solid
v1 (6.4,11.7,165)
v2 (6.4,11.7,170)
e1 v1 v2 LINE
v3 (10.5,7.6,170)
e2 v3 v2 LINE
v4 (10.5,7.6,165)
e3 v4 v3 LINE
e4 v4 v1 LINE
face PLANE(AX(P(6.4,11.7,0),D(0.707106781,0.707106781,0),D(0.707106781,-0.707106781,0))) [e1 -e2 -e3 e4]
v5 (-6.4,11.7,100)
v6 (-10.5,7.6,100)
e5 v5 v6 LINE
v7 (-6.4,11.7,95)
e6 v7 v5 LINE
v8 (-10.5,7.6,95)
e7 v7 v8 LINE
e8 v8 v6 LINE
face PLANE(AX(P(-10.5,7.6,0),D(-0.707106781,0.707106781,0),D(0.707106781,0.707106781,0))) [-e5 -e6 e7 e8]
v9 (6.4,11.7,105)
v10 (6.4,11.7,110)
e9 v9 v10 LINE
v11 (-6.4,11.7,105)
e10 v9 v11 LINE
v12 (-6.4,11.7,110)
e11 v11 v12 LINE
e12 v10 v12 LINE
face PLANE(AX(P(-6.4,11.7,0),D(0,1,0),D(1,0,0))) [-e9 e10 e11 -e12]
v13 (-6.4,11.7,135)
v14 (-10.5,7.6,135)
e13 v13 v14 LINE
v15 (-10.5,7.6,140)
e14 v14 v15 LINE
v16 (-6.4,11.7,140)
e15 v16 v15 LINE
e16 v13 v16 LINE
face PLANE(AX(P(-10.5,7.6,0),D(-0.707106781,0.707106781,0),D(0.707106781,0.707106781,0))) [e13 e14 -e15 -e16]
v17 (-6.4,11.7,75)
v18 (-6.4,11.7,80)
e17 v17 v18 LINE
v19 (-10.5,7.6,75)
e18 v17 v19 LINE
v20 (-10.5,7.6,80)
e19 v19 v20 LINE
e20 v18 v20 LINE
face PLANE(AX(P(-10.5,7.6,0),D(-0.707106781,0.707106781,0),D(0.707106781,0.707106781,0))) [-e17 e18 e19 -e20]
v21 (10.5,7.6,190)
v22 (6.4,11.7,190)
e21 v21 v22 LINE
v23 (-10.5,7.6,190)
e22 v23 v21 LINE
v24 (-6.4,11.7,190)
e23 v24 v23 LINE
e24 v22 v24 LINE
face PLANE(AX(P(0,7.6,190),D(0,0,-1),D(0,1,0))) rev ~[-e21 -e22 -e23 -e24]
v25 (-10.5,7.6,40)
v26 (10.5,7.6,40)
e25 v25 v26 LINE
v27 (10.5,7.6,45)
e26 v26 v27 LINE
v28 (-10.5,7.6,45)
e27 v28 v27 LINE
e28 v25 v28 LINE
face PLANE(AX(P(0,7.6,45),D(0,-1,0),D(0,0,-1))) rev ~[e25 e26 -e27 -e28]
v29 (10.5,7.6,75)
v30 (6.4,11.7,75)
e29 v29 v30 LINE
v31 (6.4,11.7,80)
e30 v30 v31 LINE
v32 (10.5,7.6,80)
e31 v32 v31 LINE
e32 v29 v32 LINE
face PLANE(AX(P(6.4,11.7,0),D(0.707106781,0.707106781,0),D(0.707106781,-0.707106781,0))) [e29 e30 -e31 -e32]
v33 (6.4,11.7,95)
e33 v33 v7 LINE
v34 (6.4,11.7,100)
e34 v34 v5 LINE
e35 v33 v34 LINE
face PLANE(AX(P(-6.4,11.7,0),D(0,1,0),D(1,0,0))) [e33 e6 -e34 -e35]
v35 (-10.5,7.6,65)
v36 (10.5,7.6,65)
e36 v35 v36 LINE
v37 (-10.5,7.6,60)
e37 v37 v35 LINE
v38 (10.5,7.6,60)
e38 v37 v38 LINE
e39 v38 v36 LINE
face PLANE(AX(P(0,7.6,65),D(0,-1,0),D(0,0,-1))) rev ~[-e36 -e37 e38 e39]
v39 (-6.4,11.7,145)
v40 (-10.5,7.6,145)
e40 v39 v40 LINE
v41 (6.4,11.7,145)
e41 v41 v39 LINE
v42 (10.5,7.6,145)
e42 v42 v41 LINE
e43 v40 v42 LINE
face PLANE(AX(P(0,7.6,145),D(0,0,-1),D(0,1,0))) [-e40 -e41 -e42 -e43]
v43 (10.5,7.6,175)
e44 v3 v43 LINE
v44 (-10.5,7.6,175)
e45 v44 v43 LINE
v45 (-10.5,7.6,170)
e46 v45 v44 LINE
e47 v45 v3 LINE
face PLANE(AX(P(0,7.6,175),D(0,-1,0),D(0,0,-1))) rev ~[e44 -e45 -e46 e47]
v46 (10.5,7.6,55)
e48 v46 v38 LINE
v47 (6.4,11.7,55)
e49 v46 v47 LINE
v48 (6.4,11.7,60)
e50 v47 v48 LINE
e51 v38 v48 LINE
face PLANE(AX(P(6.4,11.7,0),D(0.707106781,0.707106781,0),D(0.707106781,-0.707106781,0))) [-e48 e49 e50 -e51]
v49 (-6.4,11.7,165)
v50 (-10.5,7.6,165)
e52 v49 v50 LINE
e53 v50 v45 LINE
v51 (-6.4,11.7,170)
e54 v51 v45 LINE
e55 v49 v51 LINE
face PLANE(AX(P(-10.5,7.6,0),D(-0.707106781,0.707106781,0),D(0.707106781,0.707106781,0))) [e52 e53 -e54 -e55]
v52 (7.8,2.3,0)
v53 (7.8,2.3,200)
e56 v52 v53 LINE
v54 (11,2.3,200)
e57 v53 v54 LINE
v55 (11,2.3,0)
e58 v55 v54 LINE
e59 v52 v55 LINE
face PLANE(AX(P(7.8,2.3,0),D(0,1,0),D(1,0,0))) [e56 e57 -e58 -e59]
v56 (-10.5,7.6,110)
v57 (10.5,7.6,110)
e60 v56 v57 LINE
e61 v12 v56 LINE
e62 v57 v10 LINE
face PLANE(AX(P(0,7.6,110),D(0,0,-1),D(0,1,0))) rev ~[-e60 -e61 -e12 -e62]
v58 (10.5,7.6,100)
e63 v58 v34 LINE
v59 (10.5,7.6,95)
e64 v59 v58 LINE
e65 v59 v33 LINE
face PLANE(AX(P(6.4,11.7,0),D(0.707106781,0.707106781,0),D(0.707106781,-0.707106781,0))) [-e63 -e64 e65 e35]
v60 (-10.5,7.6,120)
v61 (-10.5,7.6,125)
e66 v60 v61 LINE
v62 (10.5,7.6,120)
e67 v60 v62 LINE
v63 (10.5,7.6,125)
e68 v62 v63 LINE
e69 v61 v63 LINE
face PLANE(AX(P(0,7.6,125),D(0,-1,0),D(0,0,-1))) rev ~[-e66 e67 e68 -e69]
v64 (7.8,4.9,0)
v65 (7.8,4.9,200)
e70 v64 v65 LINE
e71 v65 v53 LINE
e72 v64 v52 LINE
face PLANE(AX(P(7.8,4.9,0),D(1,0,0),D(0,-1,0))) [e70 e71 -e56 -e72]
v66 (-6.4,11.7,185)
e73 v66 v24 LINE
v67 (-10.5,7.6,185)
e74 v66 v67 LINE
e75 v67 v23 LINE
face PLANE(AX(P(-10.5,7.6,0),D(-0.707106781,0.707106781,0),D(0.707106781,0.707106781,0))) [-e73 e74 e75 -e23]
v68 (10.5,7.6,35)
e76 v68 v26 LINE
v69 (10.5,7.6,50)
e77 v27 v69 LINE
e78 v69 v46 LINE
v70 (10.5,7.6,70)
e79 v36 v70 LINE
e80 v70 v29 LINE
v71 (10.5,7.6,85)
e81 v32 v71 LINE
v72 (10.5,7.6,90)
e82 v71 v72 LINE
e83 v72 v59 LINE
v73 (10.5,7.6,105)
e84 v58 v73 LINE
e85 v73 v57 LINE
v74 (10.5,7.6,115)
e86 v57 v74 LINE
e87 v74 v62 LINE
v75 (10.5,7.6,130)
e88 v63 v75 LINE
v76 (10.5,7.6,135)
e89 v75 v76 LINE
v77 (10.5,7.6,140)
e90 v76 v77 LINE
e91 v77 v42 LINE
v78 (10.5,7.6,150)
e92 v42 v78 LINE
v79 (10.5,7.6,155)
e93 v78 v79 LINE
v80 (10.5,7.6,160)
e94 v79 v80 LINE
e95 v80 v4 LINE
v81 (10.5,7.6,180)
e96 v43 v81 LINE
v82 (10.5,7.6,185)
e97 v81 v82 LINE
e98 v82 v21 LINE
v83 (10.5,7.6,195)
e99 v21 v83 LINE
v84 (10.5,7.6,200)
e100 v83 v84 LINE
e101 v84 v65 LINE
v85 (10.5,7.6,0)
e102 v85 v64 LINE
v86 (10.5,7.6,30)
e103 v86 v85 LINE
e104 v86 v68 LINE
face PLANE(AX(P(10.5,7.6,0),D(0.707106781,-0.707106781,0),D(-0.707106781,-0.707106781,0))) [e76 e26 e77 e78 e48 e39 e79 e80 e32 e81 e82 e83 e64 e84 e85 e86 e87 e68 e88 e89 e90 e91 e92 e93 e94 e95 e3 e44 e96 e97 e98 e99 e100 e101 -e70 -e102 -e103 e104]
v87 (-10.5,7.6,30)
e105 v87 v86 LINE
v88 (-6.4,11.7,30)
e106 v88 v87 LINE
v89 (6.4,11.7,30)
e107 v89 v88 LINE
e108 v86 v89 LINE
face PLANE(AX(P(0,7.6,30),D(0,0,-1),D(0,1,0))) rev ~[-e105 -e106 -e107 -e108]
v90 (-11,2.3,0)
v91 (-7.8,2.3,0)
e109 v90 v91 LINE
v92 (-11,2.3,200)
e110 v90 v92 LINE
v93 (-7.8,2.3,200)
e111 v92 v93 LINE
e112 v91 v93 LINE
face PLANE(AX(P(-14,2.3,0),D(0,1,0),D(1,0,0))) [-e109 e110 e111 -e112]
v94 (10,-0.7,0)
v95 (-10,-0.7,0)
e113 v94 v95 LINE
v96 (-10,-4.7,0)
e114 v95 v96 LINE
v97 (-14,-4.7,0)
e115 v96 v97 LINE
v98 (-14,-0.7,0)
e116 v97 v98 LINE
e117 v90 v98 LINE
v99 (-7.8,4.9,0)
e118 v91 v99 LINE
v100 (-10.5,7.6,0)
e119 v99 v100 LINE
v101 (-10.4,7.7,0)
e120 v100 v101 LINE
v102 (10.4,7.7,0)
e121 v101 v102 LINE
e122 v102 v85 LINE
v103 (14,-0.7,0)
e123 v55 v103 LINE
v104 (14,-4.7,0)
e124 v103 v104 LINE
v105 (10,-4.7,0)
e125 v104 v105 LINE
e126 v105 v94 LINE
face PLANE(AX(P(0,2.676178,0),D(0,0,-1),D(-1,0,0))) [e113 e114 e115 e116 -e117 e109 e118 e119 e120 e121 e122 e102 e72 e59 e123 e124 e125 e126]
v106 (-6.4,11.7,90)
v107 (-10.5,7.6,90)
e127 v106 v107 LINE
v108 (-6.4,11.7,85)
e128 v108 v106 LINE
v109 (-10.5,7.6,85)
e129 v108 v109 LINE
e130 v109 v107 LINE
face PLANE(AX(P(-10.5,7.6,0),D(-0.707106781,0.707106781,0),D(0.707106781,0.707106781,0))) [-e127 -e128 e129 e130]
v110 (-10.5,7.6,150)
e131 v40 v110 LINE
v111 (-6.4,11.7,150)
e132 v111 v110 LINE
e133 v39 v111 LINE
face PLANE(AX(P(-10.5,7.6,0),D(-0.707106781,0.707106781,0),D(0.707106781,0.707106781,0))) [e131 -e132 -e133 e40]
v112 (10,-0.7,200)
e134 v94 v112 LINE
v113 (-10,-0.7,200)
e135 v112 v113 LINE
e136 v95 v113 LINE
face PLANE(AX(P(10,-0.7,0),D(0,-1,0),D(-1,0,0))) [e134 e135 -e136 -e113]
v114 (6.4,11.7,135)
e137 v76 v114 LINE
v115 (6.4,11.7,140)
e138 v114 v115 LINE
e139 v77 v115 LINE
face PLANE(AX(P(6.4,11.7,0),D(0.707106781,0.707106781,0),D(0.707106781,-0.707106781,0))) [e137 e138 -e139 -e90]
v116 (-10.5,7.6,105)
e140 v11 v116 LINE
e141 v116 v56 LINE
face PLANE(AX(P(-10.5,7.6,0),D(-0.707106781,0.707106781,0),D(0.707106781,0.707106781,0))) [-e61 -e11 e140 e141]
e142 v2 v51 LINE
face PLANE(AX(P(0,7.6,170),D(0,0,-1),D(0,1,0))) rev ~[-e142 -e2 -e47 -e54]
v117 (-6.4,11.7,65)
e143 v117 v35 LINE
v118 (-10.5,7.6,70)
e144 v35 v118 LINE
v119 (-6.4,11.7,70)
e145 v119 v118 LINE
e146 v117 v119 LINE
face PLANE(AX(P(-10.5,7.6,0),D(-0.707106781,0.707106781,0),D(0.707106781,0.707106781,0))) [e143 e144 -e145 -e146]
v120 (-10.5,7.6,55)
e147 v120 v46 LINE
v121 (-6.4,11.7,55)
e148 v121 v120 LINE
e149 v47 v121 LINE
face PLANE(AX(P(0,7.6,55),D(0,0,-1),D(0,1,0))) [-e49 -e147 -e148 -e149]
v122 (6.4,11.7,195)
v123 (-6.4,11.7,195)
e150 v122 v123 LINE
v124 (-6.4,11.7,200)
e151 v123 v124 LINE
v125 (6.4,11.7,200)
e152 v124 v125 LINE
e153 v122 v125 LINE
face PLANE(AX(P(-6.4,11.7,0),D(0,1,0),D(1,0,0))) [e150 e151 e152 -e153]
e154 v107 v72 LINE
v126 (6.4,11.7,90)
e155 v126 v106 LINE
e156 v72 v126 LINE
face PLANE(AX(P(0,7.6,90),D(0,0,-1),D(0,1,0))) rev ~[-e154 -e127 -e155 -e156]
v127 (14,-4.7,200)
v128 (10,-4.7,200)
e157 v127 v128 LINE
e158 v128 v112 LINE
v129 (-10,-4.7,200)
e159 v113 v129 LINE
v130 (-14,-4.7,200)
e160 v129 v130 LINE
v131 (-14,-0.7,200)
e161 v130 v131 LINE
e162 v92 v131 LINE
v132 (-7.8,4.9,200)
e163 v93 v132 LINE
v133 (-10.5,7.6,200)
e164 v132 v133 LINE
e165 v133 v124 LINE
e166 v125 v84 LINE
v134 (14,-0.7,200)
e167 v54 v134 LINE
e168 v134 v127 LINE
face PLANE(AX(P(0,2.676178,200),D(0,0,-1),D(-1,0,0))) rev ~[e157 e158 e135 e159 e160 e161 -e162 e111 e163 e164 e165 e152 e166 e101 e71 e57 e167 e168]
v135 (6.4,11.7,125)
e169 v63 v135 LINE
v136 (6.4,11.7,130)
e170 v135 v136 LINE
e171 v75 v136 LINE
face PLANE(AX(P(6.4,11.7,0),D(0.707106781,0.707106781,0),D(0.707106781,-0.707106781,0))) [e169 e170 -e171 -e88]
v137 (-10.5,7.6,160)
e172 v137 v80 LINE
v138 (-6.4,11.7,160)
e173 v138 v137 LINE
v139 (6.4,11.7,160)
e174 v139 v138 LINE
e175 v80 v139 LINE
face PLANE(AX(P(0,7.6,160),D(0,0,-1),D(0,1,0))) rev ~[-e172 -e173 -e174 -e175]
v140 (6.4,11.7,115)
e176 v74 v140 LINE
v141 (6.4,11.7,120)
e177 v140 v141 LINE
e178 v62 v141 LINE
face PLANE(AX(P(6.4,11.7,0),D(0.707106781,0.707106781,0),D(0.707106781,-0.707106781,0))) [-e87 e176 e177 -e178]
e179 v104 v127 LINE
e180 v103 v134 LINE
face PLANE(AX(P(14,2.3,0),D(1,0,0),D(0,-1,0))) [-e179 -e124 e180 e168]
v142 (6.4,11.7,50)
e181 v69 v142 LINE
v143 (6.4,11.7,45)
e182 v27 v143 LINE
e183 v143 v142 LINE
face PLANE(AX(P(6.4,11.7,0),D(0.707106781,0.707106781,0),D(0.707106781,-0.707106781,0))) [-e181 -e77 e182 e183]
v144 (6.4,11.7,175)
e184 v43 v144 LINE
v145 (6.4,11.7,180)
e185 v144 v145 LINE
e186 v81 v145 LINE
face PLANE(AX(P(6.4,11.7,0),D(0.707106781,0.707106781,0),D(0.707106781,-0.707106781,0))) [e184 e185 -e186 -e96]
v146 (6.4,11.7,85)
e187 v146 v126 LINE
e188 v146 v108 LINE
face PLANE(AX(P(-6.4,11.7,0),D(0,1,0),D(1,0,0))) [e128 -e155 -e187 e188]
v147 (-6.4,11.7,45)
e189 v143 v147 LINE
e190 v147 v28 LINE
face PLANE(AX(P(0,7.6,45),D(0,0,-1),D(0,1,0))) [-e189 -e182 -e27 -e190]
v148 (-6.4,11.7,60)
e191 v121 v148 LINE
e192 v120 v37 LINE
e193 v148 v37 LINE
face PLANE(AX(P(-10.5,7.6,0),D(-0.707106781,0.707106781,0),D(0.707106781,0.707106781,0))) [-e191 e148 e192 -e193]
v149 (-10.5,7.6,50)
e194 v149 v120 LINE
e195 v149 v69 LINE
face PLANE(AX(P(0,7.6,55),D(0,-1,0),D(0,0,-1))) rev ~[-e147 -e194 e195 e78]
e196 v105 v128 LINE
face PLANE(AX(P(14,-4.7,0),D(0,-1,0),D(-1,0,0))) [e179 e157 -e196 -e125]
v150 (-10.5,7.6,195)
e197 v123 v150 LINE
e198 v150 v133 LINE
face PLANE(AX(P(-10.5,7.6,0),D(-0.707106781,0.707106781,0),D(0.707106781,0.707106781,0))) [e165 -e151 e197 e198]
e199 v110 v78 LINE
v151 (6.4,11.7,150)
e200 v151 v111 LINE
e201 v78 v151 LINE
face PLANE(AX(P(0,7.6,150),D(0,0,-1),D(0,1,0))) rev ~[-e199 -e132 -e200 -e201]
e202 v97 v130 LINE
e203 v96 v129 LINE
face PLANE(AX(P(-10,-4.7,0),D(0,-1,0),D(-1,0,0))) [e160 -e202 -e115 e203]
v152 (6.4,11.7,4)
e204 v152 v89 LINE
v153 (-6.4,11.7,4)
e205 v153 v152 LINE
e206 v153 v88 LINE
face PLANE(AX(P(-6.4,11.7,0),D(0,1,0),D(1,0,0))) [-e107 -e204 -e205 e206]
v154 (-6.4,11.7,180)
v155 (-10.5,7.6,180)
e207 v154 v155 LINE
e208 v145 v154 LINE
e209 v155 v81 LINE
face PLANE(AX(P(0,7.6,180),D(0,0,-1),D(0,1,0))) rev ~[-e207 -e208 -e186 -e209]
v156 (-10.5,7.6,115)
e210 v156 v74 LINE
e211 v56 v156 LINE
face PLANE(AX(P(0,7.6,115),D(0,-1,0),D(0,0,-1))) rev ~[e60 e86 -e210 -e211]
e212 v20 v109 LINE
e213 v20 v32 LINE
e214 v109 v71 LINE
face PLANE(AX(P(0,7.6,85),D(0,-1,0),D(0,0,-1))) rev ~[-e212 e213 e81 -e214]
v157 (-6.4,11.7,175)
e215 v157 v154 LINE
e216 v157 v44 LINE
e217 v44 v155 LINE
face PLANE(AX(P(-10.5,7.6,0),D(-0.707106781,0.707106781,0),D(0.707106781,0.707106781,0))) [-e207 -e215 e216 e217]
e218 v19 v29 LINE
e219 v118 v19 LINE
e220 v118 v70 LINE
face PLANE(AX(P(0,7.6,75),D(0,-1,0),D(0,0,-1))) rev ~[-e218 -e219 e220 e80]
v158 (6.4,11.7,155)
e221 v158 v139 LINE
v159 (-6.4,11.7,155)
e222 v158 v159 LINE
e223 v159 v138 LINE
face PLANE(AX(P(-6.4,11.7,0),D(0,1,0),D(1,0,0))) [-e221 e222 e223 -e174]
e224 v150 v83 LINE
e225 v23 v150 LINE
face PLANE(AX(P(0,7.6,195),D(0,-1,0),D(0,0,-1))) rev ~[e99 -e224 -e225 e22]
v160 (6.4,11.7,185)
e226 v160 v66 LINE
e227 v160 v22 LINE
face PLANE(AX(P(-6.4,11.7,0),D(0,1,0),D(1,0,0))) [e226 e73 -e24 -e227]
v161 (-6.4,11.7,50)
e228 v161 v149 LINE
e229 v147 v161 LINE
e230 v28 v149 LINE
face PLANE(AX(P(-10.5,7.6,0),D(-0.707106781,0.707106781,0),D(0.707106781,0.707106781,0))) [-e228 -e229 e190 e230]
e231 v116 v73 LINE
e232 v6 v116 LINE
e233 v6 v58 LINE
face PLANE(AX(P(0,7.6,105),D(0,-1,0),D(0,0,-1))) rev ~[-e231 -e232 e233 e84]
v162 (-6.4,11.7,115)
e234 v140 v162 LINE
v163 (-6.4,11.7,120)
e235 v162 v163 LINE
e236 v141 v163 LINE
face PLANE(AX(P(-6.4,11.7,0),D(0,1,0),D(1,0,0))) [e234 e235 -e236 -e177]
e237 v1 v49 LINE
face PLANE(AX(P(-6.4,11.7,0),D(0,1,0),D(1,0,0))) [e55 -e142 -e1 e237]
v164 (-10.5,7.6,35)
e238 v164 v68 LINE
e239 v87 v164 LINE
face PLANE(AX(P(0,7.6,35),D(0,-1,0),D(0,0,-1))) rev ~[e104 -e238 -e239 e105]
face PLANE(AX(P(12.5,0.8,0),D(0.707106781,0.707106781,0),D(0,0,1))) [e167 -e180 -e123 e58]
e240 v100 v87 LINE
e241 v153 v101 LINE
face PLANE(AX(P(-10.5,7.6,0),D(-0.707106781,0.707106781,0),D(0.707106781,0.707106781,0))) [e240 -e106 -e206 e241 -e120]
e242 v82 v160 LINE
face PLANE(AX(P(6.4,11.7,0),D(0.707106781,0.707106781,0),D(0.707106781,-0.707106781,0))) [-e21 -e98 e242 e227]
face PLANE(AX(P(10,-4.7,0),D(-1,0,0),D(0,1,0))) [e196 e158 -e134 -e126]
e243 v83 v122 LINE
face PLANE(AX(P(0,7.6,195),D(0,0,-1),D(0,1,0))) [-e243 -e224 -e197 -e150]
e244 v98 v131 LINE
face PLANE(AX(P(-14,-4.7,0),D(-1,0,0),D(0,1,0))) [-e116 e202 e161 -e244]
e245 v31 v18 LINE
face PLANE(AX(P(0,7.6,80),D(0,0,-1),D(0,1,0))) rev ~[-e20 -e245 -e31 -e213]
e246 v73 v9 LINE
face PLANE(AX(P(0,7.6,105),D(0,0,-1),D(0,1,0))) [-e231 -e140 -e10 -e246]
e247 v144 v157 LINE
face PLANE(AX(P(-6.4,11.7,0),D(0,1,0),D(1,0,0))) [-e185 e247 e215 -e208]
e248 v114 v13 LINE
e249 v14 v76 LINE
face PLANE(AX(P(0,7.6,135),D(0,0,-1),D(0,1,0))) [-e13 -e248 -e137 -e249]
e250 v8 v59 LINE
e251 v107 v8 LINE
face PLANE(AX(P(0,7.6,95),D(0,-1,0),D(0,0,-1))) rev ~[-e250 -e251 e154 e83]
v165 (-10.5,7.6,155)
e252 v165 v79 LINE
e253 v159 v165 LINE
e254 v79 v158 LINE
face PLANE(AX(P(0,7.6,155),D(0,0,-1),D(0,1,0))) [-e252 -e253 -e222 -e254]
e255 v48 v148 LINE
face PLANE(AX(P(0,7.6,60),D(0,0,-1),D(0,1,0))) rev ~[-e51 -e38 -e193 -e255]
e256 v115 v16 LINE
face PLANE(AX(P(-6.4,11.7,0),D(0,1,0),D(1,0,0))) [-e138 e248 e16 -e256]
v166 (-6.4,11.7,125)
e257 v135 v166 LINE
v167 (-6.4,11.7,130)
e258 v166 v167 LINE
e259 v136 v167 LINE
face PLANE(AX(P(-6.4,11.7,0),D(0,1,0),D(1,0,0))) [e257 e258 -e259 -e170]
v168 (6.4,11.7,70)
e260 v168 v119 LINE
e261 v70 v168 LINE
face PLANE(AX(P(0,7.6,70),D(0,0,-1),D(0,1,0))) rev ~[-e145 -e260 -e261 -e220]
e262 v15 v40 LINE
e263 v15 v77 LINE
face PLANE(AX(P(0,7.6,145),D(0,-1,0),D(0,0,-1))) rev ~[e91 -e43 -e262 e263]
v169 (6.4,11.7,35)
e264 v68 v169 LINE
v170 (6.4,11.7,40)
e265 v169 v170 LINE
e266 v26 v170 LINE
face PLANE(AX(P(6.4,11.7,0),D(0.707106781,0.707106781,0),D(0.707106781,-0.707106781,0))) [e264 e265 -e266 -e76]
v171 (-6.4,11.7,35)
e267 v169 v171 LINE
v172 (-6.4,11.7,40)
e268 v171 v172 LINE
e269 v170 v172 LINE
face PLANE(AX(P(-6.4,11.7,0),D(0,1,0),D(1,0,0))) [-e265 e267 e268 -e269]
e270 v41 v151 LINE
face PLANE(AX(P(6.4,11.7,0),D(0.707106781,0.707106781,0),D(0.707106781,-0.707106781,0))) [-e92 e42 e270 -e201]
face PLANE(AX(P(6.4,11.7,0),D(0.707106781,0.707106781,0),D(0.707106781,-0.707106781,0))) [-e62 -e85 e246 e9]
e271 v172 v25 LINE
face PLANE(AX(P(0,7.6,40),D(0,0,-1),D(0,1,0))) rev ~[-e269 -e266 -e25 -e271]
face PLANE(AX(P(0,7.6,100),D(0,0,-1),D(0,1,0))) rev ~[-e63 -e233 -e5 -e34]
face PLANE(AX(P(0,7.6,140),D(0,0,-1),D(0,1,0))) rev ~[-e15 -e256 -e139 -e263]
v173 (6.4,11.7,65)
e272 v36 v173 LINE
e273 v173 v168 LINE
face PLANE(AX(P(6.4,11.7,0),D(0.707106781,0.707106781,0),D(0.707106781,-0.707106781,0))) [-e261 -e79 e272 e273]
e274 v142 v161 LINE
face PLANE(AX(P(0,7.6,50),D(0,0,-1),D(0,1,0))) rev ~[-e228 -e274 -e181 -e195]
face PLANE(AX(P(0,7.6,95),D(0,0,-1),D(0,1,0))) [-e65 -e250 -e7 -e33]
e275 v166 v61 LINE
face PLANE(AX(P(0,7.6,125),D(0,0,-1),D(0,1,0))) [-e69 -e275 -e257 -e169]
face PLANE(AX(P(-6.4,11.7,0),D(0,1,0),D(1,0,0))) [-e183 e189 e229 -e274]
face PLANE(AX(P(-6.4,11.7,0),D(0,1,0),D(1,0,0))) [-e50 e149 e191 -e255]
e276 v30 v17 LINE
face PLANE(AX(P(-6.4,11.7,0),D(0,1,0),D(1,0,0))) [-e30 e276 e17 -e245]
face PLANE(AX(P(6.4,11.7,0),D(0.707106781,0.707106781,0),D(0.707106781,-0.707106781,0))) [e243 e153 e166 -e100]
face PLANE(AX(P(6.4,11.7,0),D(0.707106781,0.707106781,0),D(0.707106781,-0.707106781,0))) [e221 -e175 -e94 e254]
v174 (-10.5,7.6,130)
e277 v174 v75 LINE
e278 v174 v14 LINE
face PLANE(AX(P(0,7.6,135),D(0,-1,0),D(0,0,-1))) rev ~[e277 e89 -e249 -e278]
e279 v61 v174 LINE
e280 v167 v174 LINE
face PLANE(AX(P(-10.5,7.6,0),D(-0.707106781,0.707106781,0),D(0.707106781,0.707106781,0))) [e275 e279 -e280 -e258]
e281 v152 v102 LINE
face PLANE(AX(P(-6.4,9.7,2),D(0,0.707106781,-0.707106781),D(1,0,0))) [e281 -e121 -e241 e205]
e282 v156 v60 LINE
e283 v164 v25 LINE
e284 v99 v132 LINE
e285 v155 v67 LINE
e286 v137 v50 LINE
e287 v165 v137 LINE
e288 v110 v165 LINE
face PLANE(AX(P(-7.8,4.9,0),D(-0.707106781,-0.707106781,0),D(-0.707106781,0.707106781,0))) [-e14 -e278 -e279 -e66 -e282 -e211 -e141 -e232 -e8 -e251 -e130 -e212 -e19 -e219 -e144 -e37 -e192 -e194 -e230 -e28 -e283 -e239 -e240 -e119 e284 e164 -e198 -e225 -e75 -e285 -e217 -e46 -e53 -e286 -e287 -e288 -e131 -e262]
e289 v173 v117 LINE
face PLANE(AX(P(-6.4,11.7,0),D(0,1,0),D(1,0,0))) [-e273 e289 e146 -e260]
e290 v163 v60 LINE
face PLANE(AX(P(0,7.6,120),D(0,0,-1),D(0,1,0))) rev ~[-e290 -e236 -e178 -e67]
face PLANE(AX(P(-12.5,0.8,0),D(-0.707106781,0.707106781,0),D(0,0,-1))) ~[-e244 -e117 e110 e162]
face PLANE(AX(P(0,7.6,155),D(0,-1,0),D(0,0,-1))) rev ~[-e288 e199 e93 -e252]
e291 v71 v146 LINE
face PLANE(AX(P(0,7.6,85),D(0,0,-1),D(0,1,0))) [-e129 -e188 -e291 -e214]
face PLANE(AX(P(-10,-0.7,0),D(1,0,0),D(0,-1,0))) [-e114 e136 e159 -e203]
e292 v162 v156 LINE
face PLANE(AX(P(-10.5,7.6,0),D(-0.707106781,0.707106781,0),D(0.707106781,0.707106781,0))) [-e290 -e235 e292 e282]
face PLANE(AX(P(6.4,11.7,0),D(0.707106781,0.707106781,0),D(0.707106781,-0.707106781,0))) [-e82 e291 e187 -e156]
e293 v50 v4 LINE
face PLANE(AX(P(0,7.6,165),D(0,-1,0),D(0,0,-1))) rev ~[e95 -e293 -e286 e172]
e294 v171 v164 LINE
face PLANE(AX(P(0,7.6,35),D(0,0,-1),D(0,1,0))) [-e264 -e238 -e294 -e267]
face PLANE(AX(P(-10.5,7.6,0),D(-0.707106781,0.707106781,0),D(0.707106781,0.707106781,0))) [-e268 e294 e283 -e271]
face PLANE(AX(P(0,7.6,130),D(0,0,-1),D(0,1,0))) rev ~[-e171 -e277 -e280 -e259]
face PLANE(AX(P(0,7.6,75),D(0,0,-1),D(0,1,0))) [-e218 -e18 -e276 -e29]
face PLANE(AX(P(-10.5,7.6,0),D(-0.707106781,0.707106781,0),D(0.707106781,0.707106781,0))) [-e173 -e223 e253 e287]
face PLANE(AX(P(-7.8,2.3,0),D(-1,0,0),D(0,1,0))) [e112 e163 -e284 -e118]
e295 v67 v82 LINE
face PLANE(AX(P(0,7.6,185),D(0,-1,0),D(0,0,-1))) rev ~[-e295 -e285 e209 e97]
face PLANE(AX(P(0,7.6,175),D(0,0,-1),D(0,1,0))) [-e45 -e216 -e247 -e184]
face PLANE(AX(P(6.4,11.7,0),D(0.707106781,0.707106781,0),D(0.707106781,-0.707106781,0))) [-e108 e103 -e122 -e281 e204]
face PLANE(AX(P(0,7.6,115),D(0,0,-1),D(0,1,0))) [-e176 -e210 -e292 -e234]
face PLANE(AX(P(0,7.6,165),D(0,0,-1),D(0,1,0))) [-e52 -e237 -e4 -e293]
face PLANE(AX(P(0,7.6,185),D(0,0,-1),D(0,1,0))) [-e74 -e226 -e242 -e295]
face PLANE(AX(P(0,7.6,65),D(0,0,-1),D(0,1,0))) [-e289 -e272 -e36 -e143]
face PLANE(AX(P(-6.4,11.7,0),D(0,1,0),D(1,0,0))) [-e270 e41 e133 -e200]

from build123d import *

# Parameters (mm, degrees)
BOSS_EXTRUDE1_DEPTH = 200
CHAMFER1_SIZE       = 3
SKETCH2_W           = 5
SKETCH2_H           = 4.1
CUT_EXTRUDE1_DEPTH  = 200
LPATTERN1_COUNT     = 20
LPATTERN1_PITCH     = 10
BOSS_EXTRUDE2_DEPTH = 25
CHAMFER2_SIZE       = 4


with BuildPart() as part:
    # Sketch1 → Boss-Extrude1 (new body)
    with BuildSketch(Plane.XY):
        Polygon((-14, 2.3), (-7.8, 2.3), (-7.8, 4.9), (-10.5, 7.6), (-6.4, 11.7), (6.4, 11.7), (10.5, 7.6), (7.8, 4.9), (7.8, 2.3), (14, 2.3), (14, -4.7), (10, -4.7), (10, -0.7), (-10, -0.7), (-10, -4.7), (-14, -4.7), align=None)
    extrude(amount=BOSS_EXTRUDE1_DEPTH)

    # Chamfer1
    chamfer1_edges = [part.edges().sort_by_distance(p)[0] for p in [
        (-14, 2.3, 100),
        (14, 2.3, 100),
    ]]
    chamfer(chamfer1_edges, length=CHAMFER1_SIZE)

    # Sketch2 → Cut-Extrude1 (cut, symmetric)
    with BuildSketch(Plane(origin=(0, 0, 0), x_dir=(0, 0, -1), z_dir=(1, 0, 0))):
        with Locations((-192.5, 9.65)):
            Rectangle(SKETCH2_W, SKETCH2_H)
    cut_extrude1 = extrude(amount=CUT_EXTRUDE1_DEPTH, both=True, mode=Mode.SUBTRACT)

    # LPattern1: Cut-Extrude1 ×20
    with Locations(*[(0, 0, -i * LPATTERN1_PITCH) for i in range(1, LPATTERN1_COUNT)]):
        add(cut_extrude1, mode=Mode.SUBTRACT)

    # Sketch4 → Boss-Extrude2 (add)
    with BuildSketch(Plane(origin=(0, 0, 25), x_dir=(-1, 0, 0), z_dir=(0, 0, -1))):
        Polygon((-10.5, 7.6), (10.5, 7.6), (6.4, 11.7), (-6.4, 11.7), align=None)
    extrude(amount=BOSS_EXTRUDE2_DEPTH)

    # Chamfer2
    chamfer2_edges = [part.edges().sort_by_distance(p)[0] for p in [
        (0, 11.7, 0),
    ]]
    chamfer(chamfer2_edges, length=CHAMFER2_SIZE)


solid = part.part
